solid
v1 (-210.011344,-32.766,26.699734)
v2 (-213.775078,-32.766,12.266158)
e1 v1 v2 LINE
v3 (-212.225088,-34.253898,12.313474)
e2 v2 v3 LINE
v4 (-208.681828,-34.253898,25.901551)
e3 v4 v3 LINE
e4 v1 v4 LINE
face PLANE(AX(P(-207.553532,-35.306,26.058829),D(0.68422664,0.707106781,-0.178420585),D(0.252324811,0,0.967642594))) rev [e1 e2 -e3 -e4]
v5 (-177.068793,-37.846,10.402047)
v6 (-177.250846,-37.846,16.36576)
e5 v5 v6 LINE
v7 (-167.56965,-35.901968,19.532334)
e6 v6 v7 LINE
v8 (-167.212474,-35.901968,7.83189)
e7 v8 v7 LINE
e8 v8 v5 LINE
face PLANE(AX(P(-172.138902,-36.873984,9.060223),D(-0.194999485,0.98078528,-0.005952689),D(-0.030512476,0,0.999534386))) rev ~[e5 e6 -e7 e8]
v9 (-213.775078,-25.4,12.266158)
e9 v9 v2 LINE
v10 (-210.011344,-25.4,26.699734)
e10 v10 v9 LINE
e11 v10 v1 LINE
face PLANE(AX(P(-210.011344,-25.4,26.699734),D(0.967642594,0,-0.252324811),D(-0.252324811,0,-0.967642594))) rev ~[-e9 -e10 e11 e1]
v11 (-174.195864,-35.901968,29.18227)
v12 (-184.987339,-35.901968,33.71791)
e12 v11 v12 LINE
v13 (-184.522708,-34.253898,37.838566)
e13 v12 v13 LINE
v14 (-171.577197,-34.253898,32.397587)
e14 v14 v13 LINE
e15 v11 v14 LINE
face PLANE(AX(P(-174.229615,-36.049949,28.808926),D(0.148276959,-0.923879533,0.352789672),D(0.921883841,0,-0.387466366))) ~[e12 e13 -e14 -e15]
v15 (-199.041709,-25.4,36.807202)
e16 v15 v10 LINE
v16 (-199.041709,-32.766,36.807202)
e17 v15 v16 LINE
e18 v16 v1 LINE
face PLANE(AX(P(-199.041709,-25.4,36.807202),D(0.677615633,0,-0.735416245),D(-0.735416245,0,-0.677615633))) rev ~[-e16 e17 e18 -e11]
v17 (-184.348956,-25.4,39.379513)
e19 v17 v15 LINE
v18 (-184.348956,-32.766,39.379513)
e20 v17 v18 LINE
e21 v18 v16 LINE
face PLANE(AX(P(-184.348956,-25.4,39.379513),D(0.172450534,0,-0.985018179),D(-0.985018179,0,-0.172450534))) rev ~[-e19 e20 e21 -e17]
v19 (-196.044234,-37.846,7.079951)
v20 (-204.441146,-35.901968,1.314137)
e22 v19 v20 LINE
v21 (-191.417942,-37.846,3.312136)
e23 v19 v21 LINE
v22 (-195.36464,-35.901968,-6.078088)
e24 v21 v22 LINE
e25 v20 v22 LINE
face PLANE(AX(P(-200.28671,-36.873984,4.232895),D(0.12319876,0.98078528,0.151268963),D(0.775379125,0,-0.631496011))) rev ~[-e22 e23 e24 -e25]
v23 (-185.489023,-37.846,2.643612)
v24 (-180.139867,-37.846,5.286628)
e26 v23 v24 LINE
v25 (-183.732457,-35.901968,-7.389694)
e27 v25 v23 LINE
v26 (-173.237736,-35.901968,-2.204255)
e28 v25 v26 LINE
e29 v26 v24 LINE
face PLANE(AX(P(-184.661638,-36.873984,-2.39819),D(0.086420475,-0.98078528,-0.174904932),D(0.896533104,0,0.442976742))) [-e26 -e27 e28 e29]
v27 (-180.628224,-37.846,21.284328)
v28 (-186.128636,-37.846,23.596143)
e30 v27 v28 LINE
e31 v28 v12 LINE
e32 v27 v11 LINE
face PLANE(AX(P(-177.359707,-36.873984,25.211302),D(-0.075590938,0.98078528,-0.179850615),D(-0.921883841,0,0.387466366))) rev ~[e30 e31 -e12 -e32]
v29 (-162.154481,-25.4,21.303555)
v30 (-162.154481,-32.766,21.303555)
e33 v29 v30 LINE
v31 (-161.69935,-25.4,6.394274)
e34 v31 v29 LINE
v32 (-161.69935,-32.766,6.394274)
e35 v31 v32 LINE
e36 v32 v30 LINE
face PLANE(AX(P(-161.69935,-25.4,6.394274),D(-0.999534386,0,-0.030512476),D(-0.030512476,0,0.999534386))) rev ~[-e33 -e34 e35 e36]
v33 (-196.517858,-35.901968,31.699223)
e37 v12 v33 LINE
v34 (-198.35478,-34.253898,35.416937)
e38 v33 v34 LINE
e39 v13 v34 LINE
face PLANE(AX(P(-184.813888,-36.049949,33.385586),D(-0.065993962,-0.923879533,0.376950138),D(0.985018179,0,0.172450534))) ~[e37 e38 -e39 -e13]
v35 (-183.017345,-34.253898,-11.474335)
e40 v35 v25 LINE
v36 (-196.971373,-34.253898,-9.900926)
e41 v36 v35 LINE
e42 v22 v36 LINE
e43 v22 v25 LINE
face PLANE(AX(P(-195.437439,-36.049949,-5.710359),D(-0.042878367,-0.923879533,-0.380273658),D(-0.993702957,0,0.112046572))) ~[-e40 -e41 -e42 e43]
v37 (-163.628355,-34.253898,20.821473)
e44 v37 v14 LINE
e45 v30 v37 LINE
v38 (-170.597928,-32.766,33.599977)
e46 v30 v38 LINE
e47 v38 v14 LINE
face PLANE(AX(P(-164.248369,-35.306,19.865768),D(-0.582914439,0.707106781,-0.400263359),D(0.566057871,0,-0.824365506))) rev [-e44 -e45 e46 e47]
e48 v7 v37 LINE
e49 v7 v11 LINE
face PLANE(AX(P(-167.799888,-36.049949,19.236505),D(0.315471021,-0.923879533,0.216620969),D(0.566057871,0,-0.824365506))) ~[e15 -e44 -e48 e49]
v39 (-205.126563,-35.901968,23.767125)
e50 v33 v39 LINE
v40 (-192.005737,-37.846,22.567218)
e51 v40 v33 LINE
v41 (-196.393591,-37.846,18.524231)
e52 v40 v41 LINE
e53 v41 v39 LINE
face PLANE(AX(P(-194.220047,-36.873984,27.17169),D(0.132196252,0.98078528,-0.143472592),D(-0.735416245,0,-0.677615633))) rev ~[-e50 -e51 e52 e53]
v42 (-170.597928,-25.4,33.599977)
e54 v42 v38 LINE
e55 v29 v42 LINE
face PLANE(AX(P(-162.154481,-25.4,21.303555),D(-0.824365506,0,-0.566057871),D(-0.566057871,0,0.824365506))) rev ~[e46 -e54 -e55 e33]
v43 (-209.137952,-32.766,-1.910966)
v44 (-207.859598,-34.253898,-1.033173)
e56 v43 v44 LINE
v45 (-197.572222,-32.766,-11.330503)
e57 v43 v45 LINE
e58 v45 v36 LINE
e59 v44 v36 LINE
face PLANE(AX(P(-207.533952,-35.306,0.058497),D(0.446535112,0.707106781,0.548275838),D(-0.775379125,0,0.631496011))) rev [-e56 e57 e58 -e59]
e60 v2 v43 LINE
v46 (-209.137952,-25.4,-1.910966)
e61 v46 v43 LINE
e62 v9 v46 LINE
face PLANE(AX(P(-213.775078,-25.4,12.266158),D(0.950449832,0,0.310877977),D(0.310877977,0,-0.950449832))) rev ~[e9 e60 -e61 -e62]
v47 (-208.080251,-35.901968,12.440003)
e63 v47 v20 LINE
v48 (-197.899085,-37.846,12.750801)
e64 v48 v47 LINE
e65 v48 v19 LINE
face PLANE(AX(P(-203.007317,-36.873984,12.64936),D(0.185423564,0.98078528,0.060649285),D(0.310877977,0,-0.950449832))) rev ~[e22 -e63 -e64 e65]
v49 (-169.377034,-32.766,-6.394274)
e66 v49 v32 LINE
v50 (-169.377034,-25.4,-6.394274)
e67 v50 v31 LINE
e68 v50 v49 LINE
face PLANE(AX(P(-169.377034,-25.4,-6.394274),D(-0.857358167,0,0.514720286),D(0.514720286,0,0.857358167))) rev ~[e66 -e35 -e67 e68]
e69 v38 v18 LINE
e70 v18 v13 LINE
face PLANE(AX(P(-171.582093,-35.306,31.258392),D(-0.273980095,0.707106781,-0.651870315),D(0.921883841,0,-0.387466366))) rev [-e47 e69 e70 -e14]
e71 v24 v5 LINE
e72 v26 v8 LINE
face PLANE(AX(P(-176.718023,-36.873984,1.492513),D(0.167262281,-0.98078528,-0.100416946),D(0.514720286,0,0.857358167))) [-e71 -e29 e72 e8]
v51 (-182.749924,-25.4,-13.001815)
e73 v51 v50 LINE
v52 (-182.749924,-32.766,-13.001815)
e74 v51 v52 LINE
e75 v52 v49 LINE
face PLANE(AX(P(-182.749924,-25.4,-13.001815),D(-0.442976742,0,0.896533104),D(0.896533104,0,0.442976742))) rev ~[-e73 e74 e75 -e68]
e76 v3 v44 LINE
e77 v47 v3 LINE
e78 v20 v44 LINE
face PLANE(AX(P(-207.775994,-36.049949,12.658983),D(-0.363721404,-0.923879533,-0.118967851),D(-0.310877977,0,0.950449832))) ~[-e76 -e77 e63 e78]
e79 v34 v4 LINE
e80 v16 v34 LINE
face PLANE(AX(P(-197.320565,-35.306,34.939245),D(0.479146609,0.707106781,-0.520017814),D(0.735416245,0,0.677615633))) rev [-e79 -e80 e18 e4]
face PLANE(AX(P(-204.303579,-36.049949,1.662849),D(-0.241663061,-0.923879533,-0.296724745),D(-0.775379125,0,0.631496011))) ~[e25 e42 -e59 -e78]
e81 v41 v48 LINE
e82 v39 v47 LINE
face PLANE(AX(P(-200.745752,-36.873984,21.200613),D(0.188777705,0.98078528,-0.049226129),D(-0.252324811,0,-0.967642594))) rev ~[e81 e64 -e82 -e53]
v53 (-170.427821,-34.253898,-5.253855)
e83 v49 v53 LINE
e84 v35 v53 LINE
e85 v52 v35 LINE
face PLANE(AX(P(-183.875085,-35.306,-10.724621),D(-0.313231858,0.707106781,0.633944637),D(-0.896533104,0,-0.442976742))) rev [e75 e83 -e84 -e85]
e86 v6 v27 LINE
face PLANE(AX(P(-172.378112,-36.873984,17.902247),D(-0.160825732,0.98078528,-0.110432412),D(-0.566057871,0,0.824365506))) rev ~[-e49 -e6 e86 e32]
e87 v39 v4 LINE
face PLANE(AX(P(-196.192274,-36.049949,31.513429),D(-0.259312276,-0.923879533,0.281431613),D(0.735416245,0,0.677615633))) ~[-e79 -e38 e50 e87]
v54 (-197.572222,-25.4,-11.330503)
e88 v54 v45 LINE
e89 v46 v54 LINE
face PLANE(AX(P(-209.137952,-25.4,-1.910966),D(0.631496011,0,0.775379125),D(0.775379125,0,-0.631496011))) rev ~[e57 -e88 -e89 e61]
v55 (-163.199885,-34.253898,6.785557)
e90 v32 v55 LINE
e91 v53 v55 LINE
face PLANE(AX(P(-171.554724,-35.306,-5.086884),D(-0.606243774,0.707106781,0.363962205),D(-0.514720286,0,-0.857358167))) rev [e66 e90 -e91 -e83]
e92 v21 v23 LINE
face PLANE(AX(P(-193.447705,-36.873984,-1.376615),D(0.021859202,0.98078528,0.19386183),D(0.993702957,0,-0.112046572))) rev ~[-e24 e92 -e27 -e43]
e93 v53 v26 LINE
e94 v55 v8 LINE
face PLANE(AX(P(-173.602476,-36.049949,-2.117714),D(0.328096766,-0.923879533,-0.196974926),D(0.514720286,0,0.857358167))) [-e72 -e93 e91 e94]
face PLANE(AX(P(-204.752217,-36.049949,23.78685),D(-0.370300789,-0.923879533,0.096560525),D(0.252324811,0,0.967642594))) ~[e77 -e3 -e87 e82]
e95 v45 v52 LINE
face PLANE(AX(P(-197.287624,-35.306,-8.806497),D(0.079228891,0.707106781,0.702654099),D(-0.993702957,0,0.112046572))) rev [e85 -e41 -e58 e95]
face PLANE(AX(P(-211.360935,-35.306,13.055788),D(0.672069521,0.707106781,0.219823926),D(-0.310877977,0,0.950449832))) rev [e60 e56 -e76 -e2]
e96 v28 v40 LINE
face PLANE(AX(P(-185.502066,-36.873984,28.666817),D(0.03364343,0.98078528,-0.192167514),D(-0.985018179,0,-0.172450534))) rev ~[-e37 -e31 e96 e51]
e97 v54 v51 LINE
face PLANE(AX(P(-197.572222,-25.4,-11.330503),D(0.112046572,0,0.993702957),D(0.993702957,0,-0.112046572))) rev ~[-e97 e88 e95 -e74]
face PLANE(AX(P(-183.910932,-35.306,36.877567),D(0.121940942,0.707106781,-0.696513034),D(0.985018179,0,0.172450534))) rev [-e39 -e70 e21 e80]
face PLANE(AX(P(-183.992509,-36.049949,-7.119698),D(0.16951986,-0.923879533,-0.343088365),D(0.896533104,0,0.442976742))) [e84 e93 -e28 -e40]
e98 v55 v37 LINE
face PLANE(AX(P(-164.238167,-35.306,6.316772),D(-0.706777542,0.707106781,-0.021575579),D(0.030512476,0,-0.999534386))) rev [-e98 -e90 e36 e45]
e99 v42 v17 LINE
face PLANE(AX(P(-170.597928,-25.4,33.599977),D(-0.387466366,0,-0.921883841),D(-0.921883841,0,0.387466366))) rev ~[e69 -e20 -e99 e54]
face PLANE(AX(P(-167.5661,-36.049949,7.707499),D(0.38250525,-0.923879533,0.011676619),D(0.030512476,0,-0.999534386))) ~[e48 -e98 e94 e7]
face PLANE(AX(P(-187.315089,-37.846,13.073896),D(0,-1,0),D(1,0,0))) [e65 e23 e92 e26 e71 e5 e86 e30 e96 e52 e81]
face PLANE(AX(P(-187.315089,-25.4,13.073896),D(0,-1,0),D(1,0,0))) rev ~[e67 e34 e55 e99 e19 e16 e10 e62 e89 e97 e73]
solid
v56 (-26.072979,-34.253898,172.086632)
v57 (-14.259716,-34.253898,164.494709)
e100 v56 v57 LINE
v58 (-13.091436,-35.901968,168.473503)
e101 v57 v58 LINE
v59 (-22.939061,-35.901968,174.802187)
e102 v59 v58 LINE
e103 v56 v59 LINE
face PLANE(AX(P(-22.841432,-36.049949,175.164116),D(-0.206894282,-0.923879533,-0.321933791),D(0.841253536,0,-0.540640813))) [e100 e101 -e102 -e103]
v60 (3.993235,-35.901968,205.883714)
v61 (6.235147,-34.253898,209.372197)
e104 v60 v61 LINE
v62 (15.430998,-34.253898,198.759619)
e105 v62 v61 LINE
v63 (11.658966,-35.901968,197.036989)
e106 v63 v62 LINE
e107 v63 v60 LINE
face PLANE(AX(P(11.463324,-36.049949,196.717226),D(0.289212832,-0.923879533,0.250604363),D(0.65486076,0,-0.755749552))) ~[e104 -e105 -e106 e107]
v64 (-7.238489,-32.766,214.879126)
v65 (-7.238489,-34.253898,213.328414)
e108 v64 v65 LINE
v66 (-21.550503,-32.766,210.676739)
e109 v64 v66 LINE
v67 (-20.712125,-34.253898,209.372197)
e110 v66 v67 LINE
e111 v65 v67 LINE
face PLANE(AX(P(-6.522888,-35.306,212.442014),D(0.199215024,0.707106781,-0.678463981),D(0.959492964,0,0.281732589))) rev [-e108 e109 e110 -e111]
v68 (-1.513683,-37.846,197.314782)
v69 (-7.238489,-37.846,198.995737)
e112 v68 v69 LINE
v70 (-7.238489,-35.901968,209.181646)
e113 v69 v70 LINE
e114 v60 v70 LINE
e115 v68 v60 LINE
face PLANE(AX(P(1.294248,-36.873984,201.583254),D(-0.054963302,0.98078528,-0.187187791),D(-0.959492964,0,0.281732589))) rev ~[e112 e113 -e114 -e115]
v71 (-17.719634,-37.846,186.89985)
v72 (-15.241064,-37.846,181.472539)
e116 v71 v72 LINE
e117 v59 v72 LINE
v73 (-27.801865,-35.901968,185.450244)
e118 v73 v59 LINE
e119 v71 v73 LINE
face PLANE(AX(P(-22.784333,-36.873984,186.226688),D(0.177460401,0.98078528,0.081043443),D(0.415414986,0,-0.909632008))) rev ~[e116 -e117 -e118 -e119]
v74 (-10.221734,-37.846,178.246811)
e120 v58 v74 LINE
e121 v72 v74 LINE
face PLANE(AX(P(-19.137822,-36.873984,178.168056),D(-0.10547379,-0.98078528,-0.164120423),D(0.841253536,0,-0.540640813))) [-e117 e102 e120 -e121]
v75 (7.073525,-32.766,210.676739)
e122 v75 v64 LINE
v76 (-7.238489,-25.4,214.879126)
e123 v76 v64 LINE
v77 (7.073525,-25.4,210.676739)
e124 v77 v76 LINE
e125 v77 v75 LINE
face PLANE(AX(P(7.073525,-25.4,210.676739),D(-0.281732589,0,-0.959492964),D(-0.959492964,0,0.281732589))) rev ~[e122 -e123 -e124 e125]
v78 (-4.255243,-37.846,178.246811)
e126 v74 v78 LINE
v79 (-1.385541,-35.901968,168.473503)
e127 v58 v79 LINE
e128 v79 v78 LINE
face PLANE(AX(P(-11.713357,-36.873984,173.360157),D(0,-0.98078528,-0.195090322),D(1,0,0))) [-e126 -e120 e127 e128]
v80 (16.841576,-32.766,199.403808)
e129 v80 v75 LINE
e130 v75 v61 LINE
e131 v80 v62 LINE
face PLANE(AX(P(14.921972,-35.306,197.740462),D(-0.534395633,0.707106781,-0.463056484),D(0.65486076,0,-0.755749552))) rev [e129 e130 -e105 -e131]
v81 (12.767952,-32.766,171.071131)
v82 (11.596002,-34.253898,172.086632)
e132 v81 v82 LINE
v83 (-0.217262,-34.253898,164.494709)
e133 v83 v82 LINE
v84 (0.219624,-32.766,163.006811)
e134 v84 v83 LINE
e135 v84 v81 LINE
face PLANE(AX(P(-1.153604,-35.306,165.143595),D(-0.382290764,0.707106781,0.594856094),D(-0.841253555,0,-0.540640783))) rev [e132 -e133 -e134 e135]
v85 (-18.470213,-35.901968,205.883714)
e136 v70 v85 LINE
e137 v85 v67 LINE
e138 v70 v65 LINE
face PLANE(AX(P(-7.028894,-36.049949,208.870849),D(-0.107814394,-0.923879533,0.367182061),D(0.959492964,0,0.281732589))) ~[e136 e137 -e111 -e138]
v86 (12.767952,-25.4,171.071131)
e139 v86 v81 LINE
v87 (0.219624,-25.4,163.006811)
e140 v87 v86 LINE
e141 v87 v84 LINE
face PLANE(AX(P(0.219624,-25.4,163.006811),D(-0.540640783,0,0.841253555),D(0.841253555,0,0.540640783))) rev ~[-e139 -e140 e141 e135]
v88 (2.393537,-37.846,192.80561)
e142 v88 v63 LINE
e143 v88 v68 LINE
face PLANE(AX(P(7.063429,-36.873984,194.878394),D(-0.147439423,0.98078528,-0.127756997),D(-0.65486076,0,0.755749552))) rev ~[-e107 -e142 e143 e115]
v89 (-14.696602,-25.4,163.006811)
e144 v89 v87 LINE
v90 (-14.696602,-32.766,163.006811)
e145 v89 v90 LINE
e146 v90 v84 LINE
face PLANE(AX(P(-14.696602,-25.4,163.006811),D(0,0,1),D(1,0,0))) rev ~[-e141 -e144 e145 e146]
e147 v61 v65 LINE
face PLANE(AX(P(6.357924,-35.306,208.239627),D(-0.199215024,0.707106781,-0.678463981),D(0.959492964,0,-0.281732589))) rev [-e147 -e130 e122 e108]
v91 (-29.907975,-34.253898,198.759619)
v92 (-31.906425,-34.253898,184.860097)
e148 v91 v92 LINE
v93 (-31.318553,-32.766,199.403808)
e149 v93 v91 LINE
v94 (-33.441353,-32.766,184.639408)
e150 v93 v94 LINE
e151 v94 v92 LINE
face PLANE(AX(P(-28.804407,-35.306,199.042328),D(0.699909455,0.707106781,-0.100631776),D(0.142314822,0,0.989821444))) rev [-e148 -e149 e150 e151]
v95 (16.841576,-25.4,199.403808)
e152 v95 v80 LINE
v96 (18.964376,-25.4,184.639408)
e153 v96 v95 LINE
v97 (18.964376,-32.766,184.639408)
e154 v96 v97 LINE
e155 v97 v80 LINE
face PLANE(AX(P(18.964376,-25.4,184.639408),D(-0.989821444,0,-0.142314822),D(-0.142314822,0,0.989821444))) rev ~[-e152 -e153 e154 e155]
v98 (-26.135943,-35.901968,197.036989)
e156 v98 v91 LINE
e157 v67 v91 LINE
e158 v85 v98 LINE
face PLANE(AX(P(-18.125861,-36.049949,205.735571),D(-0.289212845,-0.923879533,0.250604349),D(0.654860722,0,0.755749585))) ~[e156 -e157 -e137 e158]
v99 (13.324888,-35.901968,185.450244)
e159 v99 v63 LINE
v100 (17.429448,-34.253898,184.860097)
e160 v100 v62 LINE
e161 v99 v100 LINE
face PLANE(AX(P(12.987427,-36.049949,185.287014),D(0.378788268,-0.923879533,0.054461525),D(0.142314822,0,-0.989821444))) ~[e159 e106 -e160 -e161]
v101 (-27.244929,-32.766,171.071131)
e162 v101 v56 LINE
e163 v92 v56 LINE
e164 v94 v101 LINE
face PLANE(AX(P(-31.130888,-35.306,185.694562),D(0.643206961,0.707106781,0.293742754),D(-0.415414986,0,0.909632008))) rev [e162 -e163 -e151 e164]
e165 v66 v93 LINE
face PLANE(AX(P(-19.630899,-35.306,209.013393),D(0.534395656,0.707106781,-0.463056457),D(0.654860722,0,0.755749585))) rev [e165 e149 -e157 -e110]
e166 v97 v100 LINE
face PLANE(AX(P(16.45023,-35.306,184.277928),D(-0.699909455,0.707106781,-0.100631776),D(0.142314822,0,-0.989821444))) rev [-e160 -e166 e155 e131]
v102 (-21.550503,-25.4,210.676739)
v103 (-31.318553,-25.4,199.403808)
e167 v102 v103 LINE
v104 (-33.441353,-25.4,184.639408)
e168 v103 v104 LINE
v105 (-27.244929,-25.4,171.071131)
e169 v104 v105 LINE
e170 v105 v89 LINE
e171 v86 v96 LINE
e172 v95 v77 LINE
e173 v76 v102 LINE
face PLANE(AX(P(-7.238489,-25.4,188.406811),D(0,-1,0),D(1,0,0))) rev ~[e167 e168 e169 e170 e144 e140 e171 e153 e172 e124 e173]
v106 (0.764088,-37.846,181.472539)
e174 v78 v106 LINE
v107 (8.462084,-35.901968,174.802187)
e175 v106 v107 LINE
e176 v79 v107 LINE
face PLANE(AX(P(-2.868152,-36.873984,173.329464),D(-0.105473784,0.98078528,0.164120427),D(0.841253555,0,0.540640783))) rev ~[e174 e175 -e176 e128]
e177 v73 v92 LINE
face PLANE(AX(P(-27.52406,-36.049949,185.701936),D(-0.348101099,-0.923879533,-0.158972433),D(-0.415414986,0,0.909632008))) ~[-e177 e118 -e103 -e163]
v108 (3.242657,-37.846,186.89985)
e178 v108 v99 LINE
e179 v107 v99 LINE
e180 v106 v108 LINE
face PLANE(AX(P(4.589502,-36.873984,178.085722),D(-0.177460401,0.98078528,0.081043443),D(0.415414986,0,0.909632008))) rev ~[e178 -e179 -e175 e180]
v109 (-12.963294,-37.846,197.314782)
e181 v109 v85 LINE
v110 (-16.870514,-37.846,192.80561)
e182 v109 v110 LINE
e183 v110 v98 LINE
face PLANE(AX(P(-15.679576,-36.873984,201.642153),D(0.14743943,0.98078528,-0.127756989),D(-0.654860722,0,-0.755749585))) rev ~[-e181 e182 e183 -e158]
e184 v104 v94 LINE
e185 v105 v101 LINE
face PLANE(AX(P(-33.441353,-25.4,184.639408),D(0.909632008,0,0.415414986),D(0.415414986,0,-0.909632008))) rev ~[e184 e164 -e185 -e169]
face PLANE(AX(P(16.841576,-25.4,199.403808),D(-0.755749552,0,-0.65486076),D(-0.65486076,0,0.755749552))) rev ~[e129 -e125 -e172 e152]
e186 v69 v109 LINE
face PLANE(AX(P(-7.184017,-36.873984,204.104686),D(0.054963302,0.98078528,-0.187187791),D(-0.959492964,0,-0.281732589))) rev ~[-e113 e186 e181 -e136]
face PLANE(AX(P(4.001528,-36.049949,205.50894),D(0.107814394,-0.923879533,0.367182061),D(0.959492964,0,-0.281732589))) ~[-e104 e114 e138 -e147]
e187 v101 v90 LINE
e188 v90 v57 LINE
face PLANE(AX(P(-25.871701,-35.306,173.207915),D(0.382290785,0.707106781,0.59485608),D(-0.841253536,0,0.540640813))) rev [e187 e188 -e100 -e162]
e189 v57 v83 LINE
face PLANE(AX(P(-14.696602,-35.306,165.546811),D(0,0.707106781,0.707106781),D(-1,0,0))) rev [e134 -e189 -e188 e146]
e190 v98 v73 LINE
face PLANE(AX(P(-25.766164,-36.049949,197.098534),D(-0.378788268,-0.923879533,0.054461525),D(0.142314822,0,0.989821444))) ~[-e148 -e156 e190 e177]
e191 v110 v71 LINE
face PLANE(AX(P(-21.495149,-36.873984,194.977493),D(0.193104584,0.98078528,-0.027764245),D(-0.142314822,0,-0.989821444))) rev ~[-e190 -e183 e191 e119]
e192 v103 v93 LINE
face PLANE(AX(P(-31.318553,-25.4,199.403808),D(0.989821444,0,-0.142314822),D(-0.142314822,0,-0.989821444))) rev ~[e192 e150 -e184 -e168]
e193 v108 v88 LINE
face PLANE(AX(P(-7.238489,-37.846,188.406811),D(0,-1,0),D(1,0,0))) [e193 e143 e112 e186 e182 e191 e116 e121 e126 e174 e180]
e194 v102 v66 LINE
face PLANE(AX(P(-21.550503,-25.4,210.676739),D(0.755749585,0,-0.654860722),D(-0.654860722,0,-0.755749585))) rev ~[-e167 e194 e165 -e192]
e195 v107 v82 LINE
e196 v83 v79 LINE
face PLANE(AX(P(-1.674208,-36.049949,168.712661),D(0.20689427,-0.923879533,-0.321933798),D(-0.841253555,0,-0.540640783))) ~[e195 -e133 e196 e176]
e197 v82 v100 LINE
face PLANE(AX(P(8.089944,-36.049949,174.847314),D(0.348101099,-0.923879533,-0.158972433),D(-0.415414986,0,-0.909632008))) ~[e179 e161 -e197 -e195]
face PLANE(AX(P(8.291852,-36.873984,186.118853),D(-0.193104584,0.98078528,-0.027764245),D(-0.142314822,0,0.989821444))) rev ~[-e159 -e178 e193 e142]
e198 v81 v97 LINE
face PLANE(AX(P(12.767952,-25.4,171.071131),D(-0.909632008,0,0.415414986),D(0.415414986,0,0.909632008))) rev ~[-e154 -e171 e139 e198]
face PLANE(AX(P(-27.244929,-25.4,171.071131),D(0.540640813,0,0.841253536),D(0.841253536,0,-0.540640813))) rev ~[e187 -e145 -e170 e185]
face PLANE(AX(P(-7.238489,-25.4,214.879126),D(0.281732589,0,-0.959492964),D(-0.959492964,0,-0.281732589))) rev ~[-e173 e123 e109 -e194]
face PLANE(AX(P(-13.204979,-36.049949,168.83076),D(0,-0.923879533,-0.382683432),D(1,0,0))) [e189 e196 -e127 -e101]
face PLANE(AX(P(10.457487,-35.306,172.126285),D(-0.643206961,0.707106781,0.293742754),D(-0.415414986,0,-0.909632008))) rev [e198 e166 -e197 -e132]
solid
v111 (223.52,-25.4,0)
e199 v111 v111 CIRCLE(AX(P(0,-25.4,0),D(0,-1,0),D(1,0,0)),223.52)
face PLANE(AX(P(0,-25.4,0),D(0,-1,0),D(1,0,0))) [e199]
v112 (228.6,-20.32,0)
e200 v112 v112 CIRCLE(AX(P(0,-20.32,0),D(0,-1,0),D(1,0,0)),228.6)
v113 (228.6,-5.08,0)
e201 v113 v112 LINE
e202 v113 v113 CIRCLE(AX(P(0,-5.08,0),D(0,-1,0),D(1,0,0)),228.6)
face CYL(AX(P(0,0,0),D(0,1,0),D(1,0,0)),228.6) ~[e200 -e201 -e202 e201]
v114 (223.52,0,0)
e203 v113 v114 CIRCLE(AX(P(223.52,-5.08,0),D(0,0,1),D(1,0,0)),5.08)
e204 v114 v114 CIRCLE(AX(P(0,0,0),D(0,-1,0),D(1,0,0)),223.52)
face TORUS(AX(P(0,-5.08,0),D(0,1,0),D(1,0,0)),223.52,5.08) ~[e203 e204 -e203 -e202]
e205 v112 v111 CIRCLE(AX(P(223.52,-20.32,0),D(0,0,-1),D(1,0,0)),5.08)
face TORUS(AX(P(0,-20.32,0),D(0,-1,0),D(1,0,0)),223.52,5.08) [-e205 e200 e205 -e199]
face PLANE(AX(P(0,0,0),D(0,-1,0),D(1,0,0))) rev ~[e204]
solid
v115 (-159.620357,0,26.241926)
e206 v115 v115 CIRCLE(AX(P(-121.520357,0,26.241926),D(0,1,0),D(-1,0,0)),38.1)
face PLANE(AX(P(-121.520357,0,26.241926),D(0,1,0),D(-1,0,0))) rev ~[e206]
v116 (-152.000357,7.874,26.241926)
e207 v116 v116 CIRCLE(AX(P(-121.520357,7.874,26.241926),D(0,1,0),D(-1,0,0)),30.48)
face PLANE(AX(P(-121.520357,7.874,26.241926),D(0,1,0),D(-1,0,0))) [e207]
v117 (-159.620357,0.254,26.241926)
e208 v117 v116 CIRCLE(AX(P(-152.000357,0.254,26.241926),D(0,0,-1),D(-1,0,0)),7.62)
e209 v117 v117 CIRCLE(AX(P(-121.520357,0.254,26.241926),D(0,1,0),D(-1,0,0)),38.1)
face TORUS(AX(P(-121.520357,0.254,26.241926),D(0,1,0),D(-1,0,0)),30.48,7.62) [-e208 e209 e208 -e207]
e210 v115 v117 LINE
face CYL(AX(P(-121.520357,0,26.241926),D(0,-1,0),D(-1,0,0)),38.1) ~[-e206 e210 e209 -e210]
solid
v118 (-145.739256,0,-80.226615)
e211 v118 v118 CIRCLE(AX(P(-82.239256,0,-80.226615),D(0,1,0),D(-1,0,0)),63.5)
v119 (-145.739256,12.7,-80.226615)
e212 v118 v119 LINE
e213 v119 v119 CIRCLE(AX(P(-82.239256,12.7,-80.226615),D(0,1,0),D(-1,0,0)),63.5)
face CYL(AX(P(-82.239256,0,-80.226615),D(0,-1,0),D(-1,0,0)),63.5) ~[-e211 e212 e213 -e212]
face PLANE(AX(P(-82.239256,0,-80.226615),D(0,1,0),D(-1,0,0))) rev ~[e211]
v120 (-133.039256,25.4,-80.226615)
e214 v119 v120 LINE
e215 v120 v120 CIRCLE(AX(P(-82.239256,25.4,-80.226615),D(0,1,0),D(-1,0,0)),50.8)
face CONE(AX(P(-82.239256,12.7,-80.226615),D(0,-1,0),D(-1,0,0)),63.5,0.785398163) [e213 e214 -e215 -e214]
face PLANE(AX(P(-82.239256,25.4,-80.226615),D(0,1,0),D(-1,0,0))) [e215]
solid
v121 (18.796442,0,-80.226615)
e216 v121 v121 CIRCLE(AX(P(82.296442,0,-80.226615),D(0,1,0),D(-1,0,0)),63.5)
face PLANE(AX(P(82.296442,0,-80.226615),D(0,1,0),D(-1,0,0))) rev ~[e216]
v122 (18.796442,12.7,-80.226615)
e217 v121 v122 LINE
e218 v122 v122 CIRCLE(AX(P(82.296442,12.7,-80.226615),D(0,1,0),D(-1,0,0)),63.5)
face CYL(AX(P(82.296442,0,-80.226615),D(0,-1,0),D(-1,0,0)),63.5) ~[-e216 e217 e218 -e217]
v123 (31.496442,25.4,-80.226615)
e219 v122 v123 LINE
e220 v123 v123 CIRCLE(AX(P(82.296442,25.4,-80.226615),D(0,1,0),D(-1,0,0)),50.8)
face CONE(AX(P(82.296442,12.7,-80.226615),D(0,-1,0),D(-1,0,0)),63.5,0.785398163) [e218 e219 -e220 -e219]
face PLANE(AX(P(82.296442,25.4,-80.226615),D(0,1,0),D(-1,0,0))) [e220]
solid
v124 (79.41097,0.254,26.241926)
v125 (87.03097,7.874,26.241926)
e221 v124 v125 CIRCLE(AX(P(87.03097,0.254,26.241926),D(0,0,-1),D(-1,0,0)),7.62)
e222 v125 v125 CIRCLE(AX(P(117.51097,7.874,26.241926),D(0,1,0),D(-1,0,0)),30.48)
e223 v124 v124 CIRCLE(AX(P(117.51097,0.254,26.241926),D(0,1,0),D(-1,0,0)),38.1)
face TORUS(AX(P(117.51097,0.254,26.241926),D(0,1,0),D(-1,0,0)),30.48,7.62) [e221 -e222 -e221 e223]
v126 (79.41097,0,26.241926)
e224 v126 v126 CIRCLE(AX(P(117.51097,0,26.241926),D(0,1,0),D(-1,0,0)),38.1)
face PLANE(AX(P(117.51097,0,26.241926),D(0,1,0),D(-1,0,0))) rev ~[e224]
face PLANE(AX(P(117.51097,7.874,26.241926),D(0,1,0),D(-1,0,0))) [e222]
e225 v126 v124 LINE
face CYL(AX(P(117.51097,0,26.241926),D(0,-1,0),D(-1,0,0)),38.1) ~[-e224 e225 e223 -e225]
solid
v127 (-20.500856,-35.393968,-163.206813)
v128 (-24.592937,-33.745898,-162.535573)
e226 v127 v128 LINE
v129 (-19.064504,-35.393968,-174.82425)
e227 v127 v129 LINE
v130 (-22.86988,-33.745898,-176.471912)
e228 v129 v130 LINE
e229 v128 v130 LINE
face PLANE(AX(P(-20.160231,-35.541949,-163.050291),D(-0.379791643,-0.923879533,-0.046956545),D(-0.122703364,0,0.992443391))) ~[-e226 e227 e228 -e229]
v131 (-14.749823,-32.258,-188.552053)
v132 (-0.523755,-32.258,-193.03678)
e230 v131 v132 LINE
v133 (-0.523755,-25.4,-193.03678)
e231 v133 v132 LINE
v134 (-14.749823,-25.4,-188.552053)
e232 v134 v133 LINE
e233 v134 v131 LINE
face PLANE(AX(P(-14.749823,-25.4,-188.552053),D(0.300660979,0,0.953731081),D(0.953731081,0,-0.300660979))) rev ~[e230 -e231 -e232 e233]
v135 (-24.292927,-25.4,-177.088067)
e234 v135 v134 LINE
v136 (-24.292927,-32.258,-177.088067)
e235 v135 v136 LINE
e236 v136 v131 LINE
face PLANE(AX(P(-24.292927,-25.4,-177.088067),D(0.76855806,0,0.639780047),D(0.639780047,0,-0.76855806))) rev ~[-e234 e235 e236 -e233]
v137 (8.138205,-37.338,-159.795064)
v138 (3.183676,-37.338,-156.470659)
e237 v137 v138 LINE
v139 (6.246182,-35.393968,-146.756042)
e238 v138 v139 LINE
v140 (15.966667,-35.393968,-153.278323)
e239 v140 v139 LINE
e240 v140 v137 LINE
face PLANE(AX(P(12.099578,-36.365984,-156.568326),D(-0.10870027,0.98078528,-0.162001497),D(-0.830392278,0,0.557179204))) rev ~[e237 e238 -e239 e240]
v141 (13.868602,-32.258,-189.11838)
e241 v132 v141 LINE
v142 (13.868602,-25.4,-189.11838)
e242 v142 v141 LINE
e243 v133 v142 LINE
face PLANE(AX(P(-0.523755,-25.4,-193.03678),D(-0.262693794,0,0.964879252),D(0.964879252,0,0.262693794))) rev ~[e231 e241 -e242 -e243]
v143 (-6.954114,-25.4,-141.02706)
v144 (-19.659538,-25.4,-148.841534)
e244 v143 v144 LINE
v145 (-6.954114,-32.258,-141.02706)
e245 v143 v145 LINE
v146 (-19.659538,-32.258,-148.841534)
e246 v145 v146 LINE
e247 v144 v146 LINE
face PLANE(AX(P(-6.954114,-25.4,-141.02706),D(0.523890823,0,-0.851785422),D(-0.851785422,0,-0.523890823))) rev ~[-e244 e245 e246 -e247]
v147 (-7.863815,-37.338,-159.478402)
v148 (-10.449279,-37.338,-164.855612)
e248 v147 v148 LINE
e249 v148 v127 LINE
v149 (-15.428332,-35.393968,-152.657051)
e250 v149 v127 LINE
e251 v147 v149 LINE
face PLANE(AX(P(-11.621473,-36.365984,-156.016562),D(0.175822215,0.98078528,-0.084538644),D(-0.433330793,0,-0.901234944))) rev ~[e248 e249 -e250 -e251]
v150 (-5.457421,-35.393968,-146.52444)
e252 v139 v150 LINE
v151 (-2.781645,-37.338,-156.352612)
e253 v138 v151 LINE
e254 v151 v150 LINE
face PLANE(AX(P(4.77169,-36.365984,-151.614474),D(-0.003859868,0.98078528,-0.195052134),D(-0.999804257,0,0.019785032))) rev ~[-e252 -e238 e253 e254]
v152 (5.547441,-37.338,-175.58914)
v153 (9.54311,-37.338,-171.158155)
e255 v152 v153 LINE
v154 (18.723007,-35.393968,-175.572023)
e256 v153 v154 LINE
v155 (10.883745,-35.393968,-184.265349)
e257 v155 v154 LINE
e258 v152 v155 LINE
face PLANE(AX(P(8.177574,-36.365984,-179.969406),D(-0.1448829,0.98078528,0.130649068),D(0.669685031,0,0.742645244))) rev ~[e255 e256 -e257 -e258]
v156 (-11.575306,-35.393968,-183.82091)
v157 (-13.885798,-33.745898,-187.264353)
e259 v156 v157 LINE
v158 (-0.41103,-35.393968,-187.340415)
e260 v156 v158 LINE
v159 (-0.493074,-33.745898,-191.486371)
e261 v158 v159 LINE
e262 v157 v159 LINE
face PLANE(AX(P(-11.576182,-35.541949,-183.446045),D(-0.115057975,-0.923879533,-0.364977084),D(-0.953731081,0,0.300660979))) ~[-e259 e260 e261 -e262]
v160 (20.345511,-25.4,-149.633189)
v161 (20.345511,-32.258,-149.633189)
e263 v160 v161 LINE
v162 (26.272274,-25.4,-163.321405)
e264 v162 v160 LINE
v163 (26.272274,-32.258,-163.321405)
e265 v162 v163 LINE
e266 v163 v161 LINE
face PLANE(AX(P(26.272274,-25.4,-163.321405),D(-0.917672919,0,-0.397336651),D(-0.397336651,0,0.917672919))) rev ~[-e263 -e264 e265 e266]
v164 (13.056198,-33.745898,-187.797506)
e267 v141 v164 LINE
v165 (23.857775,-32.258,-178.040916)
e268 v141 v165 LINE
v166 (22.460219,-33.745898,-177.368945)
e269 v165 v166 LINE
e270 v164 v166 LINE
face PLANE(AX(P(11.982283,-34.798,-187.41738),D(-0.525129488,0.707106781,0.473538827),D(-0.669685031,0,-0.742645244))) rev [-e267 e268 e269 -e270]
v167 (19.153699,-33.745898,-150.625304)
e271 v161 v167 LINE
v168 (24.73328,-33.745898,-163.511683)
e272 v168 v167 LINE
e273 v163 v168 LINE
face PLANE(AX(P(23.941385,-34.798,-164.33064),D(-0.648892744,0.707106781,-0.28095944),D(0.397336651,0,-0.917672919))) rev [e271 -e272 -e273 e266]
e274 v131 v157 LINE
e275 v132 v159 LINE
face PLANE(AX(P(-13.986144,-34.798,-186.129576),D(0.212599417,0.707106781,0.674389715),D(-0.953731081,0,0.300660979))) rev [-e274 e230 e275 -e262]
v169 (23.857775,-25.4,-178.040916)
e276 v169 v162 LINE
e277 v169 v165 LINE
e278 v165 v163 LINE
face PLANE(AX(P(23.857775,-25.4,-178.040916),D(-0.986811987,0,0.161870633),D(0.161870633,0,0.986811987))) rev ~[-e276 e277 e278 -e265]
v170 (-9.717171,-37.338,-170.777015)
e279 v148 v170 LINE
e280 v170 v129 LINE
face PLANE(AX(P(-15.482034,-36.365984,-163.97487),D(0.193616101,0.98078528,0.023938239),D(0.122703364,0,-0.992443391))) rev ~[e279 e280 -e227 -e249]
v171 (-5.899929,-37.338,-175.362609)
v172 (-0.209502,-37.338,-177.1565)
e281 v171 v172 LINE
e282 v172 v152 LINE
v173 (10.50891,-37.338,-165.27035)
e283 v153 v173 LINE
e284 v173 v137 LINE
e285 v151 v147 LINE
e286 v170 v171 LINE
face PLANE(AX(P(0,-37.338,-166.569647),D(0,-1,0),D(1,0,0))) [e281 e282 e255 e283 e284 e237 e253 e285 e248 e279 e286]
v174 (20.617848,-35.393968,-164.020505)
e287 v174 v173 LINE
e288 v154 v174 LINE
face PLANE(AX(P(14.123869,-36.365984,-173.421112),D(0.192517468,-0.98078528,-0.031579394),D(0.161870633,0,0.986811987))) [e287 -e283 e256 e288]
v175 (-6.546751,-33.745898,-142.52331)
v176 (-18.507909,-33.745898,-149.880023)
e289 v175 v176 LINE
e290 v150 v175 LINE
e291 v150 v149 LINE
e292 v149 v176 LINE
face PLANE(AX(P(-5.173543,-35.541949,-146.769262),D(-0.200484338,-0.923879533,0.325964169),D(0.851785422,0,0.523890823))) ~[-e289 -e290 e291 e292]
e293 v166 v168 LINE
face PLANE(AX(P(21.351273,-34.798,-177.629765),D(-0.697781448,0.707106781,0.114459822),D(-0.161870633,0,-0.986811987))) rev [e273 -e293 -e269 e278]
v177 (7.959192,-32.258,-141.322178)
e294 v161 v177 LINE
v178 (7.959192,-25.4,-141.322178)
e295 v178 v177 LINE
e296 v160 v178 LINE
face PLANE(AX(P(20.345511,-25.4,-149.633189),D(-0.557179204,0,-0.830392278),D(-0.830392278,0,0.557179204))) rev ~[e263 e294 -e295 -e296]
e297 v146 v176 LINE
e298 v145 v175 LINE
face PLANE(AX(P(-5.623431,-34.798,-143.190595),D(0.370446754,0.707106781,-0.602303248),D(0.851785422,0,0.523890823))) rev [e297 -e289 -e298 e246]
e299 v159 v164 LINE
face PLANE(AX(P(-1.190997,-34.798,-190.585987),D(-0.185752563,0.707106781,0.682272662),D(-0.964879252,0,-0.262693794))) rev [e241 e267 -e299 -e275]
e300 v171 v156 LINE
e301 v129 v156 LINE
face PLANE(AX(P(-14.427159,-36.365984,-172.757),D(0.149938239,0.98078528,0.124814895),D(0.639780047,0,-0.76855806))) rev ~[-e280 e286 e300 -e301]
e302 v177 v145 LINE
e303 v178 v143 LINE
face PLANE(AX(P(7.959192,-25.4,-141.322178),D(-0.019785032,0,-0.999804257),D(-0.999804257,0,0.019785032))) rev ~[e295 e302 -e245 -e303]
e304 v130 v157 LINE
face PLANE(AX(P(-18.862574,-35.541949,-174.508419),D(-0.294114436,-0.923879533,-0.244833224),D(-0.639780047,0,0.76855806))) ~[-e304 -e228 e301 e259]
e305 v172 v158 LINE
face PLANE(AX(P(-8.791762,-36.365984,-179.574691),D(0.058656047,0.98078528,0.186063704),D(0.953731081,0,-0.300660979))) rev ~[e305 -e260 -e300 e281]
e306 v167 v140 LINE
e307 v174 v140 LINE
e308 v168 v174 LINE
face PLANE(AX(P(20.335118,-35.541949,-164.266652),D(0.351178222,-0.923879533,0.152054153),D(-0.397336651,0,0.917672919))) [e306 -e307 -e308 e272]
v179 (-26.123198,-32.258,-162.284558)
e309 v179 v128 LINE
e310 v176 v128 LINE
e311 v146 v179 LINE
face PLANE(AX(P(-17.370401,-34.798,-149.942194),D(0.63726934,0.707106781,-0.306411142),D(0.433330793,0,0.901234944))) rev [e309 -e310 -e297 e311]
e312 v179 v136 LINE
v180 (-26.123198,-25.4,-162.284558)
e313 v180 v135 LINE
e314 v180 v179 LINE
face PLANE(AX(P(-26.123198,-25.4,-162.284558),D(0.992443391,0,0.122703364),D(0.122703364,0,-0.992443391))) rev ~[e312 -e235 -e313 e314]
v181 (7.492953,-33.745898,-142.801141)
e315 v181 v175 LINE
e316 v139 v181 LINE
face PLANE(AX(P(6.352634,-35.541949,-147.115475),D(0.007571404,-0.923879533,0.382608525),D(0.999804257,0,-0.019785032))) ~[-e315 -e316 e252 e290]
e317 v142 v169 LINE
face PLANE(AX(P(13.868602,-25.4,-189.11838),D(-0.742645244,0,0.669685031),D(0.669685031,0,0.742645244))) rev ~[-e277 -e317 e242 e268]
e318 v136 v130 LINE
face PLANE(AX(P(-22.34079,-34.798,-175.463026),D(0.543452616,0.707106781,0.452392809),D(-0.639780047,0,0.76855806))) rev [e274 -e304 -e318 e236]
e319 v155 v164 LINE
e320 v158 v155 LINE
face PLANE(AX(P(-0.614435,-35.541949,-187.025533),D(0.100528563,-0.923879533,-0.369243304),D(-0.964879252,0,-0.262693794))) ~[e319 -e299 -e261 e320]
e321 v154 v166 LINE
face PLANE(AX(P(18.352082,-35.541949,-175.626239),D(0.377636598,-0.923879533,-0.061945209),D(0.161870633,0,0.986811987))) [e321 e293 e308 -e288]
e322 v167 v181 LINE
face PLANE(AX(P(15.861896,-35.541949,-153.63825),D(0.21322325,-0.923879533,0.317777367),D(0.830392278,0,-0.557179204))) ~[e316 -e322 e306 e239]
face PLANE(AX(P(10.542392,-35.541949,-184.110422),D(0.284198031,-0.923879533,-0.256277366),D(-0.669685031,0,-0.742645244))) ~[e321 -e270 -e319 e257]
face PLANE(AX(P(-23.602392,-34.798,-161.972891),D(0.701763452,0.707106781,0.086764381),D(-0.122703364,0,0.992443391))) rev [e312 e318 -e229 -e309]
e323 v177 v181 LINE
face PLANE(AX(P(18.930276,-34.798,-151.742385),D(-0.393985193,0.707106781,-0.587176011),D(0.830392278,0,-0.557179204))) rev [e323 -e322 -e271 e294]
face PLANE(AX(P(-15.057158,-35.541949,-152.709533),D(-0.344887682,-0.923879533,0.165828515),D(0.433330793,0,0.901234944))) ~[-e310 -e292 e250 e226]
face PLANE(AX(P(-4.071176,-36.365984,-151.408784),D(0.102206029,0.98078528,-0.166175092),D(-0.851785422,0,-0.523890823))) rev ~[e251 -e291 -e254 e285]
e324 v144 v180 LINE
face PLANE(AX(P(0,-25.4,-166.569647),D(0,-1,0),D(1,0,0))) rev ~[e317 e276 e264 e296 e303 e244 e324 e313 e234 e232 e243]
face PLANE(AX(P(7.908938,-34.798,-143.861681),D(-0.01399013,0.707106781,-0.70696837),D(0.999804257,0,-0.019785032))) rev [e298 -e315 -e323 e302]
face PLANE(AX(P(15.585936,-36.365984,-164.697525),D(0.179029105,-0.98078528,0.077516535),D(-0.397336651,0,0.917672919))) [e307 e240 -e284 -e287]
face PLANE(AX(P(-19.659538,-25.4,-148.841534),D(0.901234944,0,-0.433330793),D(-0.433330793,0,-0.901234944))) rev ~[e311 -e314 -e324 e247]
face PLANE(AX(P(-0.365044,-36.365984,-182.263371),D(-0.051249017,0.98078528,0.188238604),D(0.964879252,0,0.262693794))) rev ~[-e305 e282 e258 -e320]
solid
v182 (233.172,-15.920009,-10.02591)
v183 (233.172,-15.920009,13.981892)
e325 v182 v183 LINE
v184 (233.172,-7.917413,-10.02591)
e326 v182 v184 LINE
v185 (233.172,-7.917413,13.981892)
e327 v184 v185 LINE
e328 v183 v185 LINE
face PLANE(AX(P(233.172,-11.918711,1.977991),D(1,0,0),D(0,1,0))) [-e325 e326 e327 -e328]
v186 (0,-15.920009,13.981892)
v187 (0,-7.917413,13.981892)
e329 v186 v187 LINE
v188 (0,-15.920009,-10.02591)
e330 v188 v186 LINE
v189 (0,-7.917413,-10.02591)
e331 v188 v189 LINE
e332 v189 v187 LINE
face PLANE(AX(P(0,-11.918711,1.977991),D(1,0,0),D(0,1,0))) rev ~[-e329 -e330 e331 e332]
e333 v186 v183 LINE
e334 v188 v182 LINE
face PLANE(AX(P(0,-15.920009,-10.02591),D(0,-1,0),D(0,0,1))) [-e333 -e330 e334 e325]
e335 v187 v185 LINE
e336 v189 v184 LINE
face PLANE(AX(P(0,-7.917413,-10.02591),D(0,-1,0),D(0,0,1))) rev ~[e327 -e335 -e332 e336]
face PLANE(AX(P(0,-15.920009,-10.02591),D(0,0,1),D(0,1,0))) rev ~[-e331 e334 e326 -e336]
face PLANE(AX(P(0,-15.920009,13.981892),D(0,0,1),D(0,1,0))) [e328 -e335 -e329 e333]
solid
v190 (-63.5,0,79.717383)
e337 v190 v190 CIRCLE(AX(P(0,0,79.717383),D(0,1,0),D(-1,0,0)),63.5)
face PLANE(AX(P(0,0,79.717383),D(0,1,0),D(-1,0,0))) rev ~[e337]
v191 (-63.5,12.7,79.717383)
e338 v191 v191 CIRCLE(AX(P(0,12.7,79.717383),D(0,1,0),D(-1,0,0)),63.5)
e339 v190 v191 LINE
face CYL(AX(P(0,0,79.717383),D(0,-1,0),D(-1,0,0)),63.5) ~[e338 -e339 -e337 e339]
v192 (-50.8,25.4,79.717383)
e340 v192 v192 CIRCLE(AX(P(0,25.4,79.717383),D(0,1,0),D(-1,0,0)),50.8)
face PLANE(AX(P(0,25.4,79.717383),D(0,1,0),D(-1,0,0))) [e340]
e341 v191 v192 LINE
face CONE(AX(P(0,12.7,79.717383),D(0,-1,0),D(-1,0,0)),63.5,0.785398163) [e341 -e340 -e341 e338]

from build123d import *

# Parameters (mm, degrees)
F0_R      = 228.6
F1_DEPTH  = 25.4
F2_R      = 5.08
F3_R      = 63.5
F4_DEPTH  = 25.4
F5_W      = 8.002596
F5_H      = 24.007802
F6_DEPTH  = 233.172
F7_R      = 38.1
F8_DEPTH  = 7.874
F9_SIZE   = 12.7
F11_DEPTH = 12.446
F12_SIZE  = 5.08
F13_SIZE  = 5.08
F14_SIZE  = 5.08
F16_DEPTH = 12.446
F17_SIZE  = 5.08
F18_SIZE  = 5.08
F19_SIZE  = 5.08
F20_R     = 7.62
F22_DEPTH = 11.938
F23_SIZE  = 5.08
F24_SIZE  = 5.08
F25_SIZE  = 5.08


with BuildPart() as f1:
    # F0 (on Front) → F1 (new body)
    with BuildSketch(Plane.XZ):
        Circle(F0_R)
    extrude(amount=F1_DEPTH)

    # F2
    f2_edges = [f1.edges().sort_by_distance(p)[0] for p in [
        (-228.6, 0, 0),
        (-228.6, -25.4, 0),
    ]]
    fillet(f2_edges, radius=F2_R)


with BuildPart() as f4:
    # F3 (on face) → F4 (new body)
    with BuildSketch(Plane(origin=(0, 0, 0), x_dir=(-1, 0, 0), z_dir=(0, 1, 0))):
        with Locations((82.239256, -80.226615)):
            Circle(F3_R)
        with Locations((-82.296442, -80.226615)):
            Circle(F3_R)
        with Locations((0, 79.717383)):
            Circle(F3_R)
    extrude(amount=F4_DEPTH)

    # F9
    f9_edges = [f4.edges().sort_by_distance(p)[0] for p in [
        (63.5, 25.4, 79.717383),
        (145.796442, 25.4, -80.226615),
        (-18.739256, 25.4, -80.226615),
    ]]
    chamfer(f9_edges, length=F9_SIZE)


with BuildPart() as f6:
    # F5 (on Right) → F6 (new body)
    with BuildSketch(Plane.YZ):
        with Locations((-11.918711, 1.977991)):
            Rectangle(F5_W, F5_H)
    extrude(amount=F6_DEPTH)


with BuildPart() as f8:
    # F7 (on face) → F8 (new body)
    with BuildSketch(Plane(origin=(0, 0, 0), x_dir=(-1, 0, 0), z_dir=(0, 1, 0))):
        with Locations((121.520357, 26.241926)):
            Circle(F7_R)
        with Locations((-117.51097, 26.241926)):
            Circle(F7_R)
    extrude(amount=F8_DEPTH)

    # F20
    f20_edges = [f8.edges().sort_by_distance(p)[0] for p in [
        (-83.420357, 7.874, 26.241926),
        (155.61097, 7.874, 26.241926),
    ]]
    fillet(f20_edges, radius=F20_R)


with BuildPart() as f11:
    # F10 (on face) → F11 (new body)
    with BuildSketch(Plane.XZ.offset(25.4)):
        Polygon((-169.377034, -6.394274), (-161.69935, 6.394274), (-162.154481, 21.303555), (-170.597928, 33.599977), (-184.348956, 39.379513), (-199.041709, 36.807202), (-210.011344, 26.699734), (-213.775078, 12.266158), (-209.137952, -1.910966), (-197.572222, -11.330503), (-182.749924, -13.001815), align=None)
    extrude(amount=F11_DEPTH)

    # F12
    f12_edges = [f11.edges().sort_by_distance(p)[0] for p in [
        (-176.063479, -37.846, -9.698045),
        (-165.538192, -37.846, 0),
        (-161.926916, -37.846, 13.848914),
        (-166.376205, -37.846, 27.451766),
        (-177.473442, -37.846, 36.489745),
        (-191.695333, -37.846, 38.093358),
        (-204.526527, -37.846, 31.753468),
        (-211.893211, -37.846, 19.482946),
        (-211.456515, -37.846, 5.177596),
        (-203.355087, -37.846, -6.620735),
        (-190.161073, -37.846, -12.166159),
    ]]
    chamfer(f12_edges, length=F12_SIZE)

    # F13
    f13_edges = [f11.edges().sort_by_distance(p)[0] for p in [
        (-178.313801, -37.846, -5.143657),
        (-189.591876, -37.846, -7.118148),
        (-169.893571, -37.846, 2.614779),
        (-200.147087, -37.846, -2.681808),
        (-167.00455, -37.846, 13.693911),
        (-206.62823, -37.846, 6.756856),
        (-170.563982, -37.846, 24.576192),
        (-206.977586, -37.846, 18.201136),
        (-179.441771, -37.846, 31.806575),
        (-201.084239, -37.846, 28.017553),
        (-190.819284, -37.846, 33.089465),
    ]]
    chamfer(f13_edges, length=F13_SIZE)

    # F14
    f14_edges = [f11.edges().sort_by_distance(p)[0] for p in [
        (-180.564123, -37.846, -0.589268),
        (-189.022679, -37.846, -2.070137),
        (-174.248951, -37.846, 5.229558),
        (-196.939088, -37.846, 1.257118),
        (-172.082185, -37.846, 13.538907),
        (-201.799945, -37.846, 8.336116),
        (-174.751759, -37.846, 21.700618),
        (-202.061962, -37.846, 16.919326),
        (-181.410101, -37.846, 27.123405),
        (-197.641952, -37.846, 24.281639),
        (-189.943235, -37.846, 28.085573),
    ]]
    chamfer(f14_edges, length=F14_SIZE)


with BuildPart() as f16:
    # F15 (on face) → F16 (new body)
    with BuildSketch(Plane.XZ.offset(25.4)):
        Polygon((-14.696602, 163.006811), (0.219624, 163.006811), (12.767952, 171.071131), (18.964376, 184.639408), (16.841576, 199.403808), (7.073525, 210.676739), (-7.238489, 214.879126), (-21.550503, 210.676739), (-31.318553, 199.403808), (-33.441353, 184.639408), (-27.244929, 171.071131), align=None)
    extrude(amount=F16_DEPTH)

    # F17
    f17_edges = [f16.edges().sort_by_distance(p)[0] for p in [
        (-7.238489, -37.846, 163.006811),
        (6.493788, -37.846, 167.038971),
        (15.866164, -37.846, 177.85527),
        (17.902976, -37.846, 192.021608),
        (11.957551, -37.846, 205.040274),
        (-0.082482, -37.846, 212.777932),
        (-14.394496, -37.846, 212.777932),
        (-26.434528, -37.846, 205.040274),
        (-32.379953, -37.846, 192.021608),
        (-30.343141, -37.846, 177.85527),
        (-20.970765, -37.846, 167.038971),
    ]]
    chamfer(f17_edges, length=F17_SIZE)

    # F18
    f18_edges = [f16.edges().sort_by_distance(p)[0] for p in [
        (-7.238489, -37.846, 168.086811),
        (-18.22431, -37.846, 171.312539),
        (3.747333, -37.846, 171.312539),
        (-25.722211, -37.846, 179.965578),
        (11.245234, -37.846, 179.965578),
        (-27.35166, -37.846, 191.298648),
        (12.874683, -37.846, 191.298648),
        (-22.59532, -37.846, 201.713581),
        (8.118343, -37.846, 201.713581),
        (-12.963294, -37.846, 207.903708),
        (-1.513683, -37.846, 207.903708),
    ]]
    chamfer(f18_edges, length=F18_SIZE)

    # F19
    f19_edges = [f16.edges().sort_by_distance(p)[0] for p in [
        (-7.238489, -37.846, 173.166811),
        (-15.477855, -37.846, 175.586107),
        (1.000877, -37.846, 175.586107),
        (-21.10128, -37.846, 182.075886),
        (6.624303, -37.846, 182.075886),
        (-22.323367, -37.846, 190.575689),
        (7.84639, -37.846, 190.575689),
        (-18.756112, -37.846, 198.386889),
        (4.279135, -37.846, 198.386889),
        (-11.532093, -37.846, 203.029484),
        (-2.944884, -37.846, 203.029484),
    ]]
    chamfer(f19_edges, length=F19_SIZE)


with BuildPart() as f22:
    # F21 (on face) → F22 (new body)
    with BuildSketch(Plane.XZ.offset(25.4)):
        Polygon((26.272274, -163.321405), (20.345511, -149.633189), (7.959192, -141.322178), (-6.954114, -141.02706), (-19.659538, -148.841534), (-26.123198, -162.284558), (-24.292927, -177.088067), (-14.749823, -188.552053), (-0.523755, -193.03678), (13.868602, -189.11838), (23.857775, -178.040916), align=None)
    extrude(amount=F22_DEPTH)

    # F23
    f23_edges = [f22.edges().sort_by_distance(p)[0] for p in [
        (18.863189, -37.338, -183.579648),
        (25.065025, -37.338, -170.68116),
        (23.308892, -37.338, -156.477297),
        (14.152352, -37.338, -145.477683),
        (0.502539, -37.338, -141.174619),
        (-13.306826, -37.338, -144.934297),
        (-22.891368, -37.338, -155.563046),
        (-25.208062, -37.338, -169.686313),
        (-19.521375, -37.338, -182.82006),
        (-7.636789, -37.338, -190.794417),
        (6.672423, -37.338, -191.07758),
    ]]
    chamfer(f23_edges, length=F23_SIZE)

    # F24
    f24_edges = [f22.edges().sort_by_distance(p)[0] for p in [
        (15.090551, -37.338, -180.177648),
        (5.337939, -37.338, -186.175993),
        (20.05202, -37.338, -169.858858),
        (-6.109431, -37.338, -185.949463),
        (18.647114, -37.338, -158.495767),
        (-15.6171, -37.338, -179.569978),
        (11.321881, -37.338, -149.696076),
        (-20.16645, -37.338, -169.062979),
        (0.402031, -37.338, -146.253625),
        (-18.313094, -37.338, -157.764366),
        (-10.645461, -37.338, -149.261367),
    ]]
    chamfer(f24_edges, length=F24_SIZE)

    # F25
    f25_edges = [f22.edges().sort_by_distance(p)[0] for p in [
        (11.317913, -37.338, -176.775647),
        (4.003454, -37.338, -181.274407),
        (15.039015, -37.338, -169.036555),
        (-4.582073, -37.338, -181.104509),
        (13.985335, -37.338, -160.514237),
        (-11.712825, -37.338, -176.319895),
        (8.491411, -37.338, -153.914469),
        (-15.124837, -37.338, -168.439646),
        (0.301523, -37.338, -151.33263),
        (-13.734821, -37.338, -159.965686),
        (-7.984096, -37.338, -153.588437),
    ]]
    chamfer(f25_edges, length=F25_SIZE)


solid = Compound([f1.part, f4.part, f6.part, f8.part, f11.part, f16.part, f22.part])
